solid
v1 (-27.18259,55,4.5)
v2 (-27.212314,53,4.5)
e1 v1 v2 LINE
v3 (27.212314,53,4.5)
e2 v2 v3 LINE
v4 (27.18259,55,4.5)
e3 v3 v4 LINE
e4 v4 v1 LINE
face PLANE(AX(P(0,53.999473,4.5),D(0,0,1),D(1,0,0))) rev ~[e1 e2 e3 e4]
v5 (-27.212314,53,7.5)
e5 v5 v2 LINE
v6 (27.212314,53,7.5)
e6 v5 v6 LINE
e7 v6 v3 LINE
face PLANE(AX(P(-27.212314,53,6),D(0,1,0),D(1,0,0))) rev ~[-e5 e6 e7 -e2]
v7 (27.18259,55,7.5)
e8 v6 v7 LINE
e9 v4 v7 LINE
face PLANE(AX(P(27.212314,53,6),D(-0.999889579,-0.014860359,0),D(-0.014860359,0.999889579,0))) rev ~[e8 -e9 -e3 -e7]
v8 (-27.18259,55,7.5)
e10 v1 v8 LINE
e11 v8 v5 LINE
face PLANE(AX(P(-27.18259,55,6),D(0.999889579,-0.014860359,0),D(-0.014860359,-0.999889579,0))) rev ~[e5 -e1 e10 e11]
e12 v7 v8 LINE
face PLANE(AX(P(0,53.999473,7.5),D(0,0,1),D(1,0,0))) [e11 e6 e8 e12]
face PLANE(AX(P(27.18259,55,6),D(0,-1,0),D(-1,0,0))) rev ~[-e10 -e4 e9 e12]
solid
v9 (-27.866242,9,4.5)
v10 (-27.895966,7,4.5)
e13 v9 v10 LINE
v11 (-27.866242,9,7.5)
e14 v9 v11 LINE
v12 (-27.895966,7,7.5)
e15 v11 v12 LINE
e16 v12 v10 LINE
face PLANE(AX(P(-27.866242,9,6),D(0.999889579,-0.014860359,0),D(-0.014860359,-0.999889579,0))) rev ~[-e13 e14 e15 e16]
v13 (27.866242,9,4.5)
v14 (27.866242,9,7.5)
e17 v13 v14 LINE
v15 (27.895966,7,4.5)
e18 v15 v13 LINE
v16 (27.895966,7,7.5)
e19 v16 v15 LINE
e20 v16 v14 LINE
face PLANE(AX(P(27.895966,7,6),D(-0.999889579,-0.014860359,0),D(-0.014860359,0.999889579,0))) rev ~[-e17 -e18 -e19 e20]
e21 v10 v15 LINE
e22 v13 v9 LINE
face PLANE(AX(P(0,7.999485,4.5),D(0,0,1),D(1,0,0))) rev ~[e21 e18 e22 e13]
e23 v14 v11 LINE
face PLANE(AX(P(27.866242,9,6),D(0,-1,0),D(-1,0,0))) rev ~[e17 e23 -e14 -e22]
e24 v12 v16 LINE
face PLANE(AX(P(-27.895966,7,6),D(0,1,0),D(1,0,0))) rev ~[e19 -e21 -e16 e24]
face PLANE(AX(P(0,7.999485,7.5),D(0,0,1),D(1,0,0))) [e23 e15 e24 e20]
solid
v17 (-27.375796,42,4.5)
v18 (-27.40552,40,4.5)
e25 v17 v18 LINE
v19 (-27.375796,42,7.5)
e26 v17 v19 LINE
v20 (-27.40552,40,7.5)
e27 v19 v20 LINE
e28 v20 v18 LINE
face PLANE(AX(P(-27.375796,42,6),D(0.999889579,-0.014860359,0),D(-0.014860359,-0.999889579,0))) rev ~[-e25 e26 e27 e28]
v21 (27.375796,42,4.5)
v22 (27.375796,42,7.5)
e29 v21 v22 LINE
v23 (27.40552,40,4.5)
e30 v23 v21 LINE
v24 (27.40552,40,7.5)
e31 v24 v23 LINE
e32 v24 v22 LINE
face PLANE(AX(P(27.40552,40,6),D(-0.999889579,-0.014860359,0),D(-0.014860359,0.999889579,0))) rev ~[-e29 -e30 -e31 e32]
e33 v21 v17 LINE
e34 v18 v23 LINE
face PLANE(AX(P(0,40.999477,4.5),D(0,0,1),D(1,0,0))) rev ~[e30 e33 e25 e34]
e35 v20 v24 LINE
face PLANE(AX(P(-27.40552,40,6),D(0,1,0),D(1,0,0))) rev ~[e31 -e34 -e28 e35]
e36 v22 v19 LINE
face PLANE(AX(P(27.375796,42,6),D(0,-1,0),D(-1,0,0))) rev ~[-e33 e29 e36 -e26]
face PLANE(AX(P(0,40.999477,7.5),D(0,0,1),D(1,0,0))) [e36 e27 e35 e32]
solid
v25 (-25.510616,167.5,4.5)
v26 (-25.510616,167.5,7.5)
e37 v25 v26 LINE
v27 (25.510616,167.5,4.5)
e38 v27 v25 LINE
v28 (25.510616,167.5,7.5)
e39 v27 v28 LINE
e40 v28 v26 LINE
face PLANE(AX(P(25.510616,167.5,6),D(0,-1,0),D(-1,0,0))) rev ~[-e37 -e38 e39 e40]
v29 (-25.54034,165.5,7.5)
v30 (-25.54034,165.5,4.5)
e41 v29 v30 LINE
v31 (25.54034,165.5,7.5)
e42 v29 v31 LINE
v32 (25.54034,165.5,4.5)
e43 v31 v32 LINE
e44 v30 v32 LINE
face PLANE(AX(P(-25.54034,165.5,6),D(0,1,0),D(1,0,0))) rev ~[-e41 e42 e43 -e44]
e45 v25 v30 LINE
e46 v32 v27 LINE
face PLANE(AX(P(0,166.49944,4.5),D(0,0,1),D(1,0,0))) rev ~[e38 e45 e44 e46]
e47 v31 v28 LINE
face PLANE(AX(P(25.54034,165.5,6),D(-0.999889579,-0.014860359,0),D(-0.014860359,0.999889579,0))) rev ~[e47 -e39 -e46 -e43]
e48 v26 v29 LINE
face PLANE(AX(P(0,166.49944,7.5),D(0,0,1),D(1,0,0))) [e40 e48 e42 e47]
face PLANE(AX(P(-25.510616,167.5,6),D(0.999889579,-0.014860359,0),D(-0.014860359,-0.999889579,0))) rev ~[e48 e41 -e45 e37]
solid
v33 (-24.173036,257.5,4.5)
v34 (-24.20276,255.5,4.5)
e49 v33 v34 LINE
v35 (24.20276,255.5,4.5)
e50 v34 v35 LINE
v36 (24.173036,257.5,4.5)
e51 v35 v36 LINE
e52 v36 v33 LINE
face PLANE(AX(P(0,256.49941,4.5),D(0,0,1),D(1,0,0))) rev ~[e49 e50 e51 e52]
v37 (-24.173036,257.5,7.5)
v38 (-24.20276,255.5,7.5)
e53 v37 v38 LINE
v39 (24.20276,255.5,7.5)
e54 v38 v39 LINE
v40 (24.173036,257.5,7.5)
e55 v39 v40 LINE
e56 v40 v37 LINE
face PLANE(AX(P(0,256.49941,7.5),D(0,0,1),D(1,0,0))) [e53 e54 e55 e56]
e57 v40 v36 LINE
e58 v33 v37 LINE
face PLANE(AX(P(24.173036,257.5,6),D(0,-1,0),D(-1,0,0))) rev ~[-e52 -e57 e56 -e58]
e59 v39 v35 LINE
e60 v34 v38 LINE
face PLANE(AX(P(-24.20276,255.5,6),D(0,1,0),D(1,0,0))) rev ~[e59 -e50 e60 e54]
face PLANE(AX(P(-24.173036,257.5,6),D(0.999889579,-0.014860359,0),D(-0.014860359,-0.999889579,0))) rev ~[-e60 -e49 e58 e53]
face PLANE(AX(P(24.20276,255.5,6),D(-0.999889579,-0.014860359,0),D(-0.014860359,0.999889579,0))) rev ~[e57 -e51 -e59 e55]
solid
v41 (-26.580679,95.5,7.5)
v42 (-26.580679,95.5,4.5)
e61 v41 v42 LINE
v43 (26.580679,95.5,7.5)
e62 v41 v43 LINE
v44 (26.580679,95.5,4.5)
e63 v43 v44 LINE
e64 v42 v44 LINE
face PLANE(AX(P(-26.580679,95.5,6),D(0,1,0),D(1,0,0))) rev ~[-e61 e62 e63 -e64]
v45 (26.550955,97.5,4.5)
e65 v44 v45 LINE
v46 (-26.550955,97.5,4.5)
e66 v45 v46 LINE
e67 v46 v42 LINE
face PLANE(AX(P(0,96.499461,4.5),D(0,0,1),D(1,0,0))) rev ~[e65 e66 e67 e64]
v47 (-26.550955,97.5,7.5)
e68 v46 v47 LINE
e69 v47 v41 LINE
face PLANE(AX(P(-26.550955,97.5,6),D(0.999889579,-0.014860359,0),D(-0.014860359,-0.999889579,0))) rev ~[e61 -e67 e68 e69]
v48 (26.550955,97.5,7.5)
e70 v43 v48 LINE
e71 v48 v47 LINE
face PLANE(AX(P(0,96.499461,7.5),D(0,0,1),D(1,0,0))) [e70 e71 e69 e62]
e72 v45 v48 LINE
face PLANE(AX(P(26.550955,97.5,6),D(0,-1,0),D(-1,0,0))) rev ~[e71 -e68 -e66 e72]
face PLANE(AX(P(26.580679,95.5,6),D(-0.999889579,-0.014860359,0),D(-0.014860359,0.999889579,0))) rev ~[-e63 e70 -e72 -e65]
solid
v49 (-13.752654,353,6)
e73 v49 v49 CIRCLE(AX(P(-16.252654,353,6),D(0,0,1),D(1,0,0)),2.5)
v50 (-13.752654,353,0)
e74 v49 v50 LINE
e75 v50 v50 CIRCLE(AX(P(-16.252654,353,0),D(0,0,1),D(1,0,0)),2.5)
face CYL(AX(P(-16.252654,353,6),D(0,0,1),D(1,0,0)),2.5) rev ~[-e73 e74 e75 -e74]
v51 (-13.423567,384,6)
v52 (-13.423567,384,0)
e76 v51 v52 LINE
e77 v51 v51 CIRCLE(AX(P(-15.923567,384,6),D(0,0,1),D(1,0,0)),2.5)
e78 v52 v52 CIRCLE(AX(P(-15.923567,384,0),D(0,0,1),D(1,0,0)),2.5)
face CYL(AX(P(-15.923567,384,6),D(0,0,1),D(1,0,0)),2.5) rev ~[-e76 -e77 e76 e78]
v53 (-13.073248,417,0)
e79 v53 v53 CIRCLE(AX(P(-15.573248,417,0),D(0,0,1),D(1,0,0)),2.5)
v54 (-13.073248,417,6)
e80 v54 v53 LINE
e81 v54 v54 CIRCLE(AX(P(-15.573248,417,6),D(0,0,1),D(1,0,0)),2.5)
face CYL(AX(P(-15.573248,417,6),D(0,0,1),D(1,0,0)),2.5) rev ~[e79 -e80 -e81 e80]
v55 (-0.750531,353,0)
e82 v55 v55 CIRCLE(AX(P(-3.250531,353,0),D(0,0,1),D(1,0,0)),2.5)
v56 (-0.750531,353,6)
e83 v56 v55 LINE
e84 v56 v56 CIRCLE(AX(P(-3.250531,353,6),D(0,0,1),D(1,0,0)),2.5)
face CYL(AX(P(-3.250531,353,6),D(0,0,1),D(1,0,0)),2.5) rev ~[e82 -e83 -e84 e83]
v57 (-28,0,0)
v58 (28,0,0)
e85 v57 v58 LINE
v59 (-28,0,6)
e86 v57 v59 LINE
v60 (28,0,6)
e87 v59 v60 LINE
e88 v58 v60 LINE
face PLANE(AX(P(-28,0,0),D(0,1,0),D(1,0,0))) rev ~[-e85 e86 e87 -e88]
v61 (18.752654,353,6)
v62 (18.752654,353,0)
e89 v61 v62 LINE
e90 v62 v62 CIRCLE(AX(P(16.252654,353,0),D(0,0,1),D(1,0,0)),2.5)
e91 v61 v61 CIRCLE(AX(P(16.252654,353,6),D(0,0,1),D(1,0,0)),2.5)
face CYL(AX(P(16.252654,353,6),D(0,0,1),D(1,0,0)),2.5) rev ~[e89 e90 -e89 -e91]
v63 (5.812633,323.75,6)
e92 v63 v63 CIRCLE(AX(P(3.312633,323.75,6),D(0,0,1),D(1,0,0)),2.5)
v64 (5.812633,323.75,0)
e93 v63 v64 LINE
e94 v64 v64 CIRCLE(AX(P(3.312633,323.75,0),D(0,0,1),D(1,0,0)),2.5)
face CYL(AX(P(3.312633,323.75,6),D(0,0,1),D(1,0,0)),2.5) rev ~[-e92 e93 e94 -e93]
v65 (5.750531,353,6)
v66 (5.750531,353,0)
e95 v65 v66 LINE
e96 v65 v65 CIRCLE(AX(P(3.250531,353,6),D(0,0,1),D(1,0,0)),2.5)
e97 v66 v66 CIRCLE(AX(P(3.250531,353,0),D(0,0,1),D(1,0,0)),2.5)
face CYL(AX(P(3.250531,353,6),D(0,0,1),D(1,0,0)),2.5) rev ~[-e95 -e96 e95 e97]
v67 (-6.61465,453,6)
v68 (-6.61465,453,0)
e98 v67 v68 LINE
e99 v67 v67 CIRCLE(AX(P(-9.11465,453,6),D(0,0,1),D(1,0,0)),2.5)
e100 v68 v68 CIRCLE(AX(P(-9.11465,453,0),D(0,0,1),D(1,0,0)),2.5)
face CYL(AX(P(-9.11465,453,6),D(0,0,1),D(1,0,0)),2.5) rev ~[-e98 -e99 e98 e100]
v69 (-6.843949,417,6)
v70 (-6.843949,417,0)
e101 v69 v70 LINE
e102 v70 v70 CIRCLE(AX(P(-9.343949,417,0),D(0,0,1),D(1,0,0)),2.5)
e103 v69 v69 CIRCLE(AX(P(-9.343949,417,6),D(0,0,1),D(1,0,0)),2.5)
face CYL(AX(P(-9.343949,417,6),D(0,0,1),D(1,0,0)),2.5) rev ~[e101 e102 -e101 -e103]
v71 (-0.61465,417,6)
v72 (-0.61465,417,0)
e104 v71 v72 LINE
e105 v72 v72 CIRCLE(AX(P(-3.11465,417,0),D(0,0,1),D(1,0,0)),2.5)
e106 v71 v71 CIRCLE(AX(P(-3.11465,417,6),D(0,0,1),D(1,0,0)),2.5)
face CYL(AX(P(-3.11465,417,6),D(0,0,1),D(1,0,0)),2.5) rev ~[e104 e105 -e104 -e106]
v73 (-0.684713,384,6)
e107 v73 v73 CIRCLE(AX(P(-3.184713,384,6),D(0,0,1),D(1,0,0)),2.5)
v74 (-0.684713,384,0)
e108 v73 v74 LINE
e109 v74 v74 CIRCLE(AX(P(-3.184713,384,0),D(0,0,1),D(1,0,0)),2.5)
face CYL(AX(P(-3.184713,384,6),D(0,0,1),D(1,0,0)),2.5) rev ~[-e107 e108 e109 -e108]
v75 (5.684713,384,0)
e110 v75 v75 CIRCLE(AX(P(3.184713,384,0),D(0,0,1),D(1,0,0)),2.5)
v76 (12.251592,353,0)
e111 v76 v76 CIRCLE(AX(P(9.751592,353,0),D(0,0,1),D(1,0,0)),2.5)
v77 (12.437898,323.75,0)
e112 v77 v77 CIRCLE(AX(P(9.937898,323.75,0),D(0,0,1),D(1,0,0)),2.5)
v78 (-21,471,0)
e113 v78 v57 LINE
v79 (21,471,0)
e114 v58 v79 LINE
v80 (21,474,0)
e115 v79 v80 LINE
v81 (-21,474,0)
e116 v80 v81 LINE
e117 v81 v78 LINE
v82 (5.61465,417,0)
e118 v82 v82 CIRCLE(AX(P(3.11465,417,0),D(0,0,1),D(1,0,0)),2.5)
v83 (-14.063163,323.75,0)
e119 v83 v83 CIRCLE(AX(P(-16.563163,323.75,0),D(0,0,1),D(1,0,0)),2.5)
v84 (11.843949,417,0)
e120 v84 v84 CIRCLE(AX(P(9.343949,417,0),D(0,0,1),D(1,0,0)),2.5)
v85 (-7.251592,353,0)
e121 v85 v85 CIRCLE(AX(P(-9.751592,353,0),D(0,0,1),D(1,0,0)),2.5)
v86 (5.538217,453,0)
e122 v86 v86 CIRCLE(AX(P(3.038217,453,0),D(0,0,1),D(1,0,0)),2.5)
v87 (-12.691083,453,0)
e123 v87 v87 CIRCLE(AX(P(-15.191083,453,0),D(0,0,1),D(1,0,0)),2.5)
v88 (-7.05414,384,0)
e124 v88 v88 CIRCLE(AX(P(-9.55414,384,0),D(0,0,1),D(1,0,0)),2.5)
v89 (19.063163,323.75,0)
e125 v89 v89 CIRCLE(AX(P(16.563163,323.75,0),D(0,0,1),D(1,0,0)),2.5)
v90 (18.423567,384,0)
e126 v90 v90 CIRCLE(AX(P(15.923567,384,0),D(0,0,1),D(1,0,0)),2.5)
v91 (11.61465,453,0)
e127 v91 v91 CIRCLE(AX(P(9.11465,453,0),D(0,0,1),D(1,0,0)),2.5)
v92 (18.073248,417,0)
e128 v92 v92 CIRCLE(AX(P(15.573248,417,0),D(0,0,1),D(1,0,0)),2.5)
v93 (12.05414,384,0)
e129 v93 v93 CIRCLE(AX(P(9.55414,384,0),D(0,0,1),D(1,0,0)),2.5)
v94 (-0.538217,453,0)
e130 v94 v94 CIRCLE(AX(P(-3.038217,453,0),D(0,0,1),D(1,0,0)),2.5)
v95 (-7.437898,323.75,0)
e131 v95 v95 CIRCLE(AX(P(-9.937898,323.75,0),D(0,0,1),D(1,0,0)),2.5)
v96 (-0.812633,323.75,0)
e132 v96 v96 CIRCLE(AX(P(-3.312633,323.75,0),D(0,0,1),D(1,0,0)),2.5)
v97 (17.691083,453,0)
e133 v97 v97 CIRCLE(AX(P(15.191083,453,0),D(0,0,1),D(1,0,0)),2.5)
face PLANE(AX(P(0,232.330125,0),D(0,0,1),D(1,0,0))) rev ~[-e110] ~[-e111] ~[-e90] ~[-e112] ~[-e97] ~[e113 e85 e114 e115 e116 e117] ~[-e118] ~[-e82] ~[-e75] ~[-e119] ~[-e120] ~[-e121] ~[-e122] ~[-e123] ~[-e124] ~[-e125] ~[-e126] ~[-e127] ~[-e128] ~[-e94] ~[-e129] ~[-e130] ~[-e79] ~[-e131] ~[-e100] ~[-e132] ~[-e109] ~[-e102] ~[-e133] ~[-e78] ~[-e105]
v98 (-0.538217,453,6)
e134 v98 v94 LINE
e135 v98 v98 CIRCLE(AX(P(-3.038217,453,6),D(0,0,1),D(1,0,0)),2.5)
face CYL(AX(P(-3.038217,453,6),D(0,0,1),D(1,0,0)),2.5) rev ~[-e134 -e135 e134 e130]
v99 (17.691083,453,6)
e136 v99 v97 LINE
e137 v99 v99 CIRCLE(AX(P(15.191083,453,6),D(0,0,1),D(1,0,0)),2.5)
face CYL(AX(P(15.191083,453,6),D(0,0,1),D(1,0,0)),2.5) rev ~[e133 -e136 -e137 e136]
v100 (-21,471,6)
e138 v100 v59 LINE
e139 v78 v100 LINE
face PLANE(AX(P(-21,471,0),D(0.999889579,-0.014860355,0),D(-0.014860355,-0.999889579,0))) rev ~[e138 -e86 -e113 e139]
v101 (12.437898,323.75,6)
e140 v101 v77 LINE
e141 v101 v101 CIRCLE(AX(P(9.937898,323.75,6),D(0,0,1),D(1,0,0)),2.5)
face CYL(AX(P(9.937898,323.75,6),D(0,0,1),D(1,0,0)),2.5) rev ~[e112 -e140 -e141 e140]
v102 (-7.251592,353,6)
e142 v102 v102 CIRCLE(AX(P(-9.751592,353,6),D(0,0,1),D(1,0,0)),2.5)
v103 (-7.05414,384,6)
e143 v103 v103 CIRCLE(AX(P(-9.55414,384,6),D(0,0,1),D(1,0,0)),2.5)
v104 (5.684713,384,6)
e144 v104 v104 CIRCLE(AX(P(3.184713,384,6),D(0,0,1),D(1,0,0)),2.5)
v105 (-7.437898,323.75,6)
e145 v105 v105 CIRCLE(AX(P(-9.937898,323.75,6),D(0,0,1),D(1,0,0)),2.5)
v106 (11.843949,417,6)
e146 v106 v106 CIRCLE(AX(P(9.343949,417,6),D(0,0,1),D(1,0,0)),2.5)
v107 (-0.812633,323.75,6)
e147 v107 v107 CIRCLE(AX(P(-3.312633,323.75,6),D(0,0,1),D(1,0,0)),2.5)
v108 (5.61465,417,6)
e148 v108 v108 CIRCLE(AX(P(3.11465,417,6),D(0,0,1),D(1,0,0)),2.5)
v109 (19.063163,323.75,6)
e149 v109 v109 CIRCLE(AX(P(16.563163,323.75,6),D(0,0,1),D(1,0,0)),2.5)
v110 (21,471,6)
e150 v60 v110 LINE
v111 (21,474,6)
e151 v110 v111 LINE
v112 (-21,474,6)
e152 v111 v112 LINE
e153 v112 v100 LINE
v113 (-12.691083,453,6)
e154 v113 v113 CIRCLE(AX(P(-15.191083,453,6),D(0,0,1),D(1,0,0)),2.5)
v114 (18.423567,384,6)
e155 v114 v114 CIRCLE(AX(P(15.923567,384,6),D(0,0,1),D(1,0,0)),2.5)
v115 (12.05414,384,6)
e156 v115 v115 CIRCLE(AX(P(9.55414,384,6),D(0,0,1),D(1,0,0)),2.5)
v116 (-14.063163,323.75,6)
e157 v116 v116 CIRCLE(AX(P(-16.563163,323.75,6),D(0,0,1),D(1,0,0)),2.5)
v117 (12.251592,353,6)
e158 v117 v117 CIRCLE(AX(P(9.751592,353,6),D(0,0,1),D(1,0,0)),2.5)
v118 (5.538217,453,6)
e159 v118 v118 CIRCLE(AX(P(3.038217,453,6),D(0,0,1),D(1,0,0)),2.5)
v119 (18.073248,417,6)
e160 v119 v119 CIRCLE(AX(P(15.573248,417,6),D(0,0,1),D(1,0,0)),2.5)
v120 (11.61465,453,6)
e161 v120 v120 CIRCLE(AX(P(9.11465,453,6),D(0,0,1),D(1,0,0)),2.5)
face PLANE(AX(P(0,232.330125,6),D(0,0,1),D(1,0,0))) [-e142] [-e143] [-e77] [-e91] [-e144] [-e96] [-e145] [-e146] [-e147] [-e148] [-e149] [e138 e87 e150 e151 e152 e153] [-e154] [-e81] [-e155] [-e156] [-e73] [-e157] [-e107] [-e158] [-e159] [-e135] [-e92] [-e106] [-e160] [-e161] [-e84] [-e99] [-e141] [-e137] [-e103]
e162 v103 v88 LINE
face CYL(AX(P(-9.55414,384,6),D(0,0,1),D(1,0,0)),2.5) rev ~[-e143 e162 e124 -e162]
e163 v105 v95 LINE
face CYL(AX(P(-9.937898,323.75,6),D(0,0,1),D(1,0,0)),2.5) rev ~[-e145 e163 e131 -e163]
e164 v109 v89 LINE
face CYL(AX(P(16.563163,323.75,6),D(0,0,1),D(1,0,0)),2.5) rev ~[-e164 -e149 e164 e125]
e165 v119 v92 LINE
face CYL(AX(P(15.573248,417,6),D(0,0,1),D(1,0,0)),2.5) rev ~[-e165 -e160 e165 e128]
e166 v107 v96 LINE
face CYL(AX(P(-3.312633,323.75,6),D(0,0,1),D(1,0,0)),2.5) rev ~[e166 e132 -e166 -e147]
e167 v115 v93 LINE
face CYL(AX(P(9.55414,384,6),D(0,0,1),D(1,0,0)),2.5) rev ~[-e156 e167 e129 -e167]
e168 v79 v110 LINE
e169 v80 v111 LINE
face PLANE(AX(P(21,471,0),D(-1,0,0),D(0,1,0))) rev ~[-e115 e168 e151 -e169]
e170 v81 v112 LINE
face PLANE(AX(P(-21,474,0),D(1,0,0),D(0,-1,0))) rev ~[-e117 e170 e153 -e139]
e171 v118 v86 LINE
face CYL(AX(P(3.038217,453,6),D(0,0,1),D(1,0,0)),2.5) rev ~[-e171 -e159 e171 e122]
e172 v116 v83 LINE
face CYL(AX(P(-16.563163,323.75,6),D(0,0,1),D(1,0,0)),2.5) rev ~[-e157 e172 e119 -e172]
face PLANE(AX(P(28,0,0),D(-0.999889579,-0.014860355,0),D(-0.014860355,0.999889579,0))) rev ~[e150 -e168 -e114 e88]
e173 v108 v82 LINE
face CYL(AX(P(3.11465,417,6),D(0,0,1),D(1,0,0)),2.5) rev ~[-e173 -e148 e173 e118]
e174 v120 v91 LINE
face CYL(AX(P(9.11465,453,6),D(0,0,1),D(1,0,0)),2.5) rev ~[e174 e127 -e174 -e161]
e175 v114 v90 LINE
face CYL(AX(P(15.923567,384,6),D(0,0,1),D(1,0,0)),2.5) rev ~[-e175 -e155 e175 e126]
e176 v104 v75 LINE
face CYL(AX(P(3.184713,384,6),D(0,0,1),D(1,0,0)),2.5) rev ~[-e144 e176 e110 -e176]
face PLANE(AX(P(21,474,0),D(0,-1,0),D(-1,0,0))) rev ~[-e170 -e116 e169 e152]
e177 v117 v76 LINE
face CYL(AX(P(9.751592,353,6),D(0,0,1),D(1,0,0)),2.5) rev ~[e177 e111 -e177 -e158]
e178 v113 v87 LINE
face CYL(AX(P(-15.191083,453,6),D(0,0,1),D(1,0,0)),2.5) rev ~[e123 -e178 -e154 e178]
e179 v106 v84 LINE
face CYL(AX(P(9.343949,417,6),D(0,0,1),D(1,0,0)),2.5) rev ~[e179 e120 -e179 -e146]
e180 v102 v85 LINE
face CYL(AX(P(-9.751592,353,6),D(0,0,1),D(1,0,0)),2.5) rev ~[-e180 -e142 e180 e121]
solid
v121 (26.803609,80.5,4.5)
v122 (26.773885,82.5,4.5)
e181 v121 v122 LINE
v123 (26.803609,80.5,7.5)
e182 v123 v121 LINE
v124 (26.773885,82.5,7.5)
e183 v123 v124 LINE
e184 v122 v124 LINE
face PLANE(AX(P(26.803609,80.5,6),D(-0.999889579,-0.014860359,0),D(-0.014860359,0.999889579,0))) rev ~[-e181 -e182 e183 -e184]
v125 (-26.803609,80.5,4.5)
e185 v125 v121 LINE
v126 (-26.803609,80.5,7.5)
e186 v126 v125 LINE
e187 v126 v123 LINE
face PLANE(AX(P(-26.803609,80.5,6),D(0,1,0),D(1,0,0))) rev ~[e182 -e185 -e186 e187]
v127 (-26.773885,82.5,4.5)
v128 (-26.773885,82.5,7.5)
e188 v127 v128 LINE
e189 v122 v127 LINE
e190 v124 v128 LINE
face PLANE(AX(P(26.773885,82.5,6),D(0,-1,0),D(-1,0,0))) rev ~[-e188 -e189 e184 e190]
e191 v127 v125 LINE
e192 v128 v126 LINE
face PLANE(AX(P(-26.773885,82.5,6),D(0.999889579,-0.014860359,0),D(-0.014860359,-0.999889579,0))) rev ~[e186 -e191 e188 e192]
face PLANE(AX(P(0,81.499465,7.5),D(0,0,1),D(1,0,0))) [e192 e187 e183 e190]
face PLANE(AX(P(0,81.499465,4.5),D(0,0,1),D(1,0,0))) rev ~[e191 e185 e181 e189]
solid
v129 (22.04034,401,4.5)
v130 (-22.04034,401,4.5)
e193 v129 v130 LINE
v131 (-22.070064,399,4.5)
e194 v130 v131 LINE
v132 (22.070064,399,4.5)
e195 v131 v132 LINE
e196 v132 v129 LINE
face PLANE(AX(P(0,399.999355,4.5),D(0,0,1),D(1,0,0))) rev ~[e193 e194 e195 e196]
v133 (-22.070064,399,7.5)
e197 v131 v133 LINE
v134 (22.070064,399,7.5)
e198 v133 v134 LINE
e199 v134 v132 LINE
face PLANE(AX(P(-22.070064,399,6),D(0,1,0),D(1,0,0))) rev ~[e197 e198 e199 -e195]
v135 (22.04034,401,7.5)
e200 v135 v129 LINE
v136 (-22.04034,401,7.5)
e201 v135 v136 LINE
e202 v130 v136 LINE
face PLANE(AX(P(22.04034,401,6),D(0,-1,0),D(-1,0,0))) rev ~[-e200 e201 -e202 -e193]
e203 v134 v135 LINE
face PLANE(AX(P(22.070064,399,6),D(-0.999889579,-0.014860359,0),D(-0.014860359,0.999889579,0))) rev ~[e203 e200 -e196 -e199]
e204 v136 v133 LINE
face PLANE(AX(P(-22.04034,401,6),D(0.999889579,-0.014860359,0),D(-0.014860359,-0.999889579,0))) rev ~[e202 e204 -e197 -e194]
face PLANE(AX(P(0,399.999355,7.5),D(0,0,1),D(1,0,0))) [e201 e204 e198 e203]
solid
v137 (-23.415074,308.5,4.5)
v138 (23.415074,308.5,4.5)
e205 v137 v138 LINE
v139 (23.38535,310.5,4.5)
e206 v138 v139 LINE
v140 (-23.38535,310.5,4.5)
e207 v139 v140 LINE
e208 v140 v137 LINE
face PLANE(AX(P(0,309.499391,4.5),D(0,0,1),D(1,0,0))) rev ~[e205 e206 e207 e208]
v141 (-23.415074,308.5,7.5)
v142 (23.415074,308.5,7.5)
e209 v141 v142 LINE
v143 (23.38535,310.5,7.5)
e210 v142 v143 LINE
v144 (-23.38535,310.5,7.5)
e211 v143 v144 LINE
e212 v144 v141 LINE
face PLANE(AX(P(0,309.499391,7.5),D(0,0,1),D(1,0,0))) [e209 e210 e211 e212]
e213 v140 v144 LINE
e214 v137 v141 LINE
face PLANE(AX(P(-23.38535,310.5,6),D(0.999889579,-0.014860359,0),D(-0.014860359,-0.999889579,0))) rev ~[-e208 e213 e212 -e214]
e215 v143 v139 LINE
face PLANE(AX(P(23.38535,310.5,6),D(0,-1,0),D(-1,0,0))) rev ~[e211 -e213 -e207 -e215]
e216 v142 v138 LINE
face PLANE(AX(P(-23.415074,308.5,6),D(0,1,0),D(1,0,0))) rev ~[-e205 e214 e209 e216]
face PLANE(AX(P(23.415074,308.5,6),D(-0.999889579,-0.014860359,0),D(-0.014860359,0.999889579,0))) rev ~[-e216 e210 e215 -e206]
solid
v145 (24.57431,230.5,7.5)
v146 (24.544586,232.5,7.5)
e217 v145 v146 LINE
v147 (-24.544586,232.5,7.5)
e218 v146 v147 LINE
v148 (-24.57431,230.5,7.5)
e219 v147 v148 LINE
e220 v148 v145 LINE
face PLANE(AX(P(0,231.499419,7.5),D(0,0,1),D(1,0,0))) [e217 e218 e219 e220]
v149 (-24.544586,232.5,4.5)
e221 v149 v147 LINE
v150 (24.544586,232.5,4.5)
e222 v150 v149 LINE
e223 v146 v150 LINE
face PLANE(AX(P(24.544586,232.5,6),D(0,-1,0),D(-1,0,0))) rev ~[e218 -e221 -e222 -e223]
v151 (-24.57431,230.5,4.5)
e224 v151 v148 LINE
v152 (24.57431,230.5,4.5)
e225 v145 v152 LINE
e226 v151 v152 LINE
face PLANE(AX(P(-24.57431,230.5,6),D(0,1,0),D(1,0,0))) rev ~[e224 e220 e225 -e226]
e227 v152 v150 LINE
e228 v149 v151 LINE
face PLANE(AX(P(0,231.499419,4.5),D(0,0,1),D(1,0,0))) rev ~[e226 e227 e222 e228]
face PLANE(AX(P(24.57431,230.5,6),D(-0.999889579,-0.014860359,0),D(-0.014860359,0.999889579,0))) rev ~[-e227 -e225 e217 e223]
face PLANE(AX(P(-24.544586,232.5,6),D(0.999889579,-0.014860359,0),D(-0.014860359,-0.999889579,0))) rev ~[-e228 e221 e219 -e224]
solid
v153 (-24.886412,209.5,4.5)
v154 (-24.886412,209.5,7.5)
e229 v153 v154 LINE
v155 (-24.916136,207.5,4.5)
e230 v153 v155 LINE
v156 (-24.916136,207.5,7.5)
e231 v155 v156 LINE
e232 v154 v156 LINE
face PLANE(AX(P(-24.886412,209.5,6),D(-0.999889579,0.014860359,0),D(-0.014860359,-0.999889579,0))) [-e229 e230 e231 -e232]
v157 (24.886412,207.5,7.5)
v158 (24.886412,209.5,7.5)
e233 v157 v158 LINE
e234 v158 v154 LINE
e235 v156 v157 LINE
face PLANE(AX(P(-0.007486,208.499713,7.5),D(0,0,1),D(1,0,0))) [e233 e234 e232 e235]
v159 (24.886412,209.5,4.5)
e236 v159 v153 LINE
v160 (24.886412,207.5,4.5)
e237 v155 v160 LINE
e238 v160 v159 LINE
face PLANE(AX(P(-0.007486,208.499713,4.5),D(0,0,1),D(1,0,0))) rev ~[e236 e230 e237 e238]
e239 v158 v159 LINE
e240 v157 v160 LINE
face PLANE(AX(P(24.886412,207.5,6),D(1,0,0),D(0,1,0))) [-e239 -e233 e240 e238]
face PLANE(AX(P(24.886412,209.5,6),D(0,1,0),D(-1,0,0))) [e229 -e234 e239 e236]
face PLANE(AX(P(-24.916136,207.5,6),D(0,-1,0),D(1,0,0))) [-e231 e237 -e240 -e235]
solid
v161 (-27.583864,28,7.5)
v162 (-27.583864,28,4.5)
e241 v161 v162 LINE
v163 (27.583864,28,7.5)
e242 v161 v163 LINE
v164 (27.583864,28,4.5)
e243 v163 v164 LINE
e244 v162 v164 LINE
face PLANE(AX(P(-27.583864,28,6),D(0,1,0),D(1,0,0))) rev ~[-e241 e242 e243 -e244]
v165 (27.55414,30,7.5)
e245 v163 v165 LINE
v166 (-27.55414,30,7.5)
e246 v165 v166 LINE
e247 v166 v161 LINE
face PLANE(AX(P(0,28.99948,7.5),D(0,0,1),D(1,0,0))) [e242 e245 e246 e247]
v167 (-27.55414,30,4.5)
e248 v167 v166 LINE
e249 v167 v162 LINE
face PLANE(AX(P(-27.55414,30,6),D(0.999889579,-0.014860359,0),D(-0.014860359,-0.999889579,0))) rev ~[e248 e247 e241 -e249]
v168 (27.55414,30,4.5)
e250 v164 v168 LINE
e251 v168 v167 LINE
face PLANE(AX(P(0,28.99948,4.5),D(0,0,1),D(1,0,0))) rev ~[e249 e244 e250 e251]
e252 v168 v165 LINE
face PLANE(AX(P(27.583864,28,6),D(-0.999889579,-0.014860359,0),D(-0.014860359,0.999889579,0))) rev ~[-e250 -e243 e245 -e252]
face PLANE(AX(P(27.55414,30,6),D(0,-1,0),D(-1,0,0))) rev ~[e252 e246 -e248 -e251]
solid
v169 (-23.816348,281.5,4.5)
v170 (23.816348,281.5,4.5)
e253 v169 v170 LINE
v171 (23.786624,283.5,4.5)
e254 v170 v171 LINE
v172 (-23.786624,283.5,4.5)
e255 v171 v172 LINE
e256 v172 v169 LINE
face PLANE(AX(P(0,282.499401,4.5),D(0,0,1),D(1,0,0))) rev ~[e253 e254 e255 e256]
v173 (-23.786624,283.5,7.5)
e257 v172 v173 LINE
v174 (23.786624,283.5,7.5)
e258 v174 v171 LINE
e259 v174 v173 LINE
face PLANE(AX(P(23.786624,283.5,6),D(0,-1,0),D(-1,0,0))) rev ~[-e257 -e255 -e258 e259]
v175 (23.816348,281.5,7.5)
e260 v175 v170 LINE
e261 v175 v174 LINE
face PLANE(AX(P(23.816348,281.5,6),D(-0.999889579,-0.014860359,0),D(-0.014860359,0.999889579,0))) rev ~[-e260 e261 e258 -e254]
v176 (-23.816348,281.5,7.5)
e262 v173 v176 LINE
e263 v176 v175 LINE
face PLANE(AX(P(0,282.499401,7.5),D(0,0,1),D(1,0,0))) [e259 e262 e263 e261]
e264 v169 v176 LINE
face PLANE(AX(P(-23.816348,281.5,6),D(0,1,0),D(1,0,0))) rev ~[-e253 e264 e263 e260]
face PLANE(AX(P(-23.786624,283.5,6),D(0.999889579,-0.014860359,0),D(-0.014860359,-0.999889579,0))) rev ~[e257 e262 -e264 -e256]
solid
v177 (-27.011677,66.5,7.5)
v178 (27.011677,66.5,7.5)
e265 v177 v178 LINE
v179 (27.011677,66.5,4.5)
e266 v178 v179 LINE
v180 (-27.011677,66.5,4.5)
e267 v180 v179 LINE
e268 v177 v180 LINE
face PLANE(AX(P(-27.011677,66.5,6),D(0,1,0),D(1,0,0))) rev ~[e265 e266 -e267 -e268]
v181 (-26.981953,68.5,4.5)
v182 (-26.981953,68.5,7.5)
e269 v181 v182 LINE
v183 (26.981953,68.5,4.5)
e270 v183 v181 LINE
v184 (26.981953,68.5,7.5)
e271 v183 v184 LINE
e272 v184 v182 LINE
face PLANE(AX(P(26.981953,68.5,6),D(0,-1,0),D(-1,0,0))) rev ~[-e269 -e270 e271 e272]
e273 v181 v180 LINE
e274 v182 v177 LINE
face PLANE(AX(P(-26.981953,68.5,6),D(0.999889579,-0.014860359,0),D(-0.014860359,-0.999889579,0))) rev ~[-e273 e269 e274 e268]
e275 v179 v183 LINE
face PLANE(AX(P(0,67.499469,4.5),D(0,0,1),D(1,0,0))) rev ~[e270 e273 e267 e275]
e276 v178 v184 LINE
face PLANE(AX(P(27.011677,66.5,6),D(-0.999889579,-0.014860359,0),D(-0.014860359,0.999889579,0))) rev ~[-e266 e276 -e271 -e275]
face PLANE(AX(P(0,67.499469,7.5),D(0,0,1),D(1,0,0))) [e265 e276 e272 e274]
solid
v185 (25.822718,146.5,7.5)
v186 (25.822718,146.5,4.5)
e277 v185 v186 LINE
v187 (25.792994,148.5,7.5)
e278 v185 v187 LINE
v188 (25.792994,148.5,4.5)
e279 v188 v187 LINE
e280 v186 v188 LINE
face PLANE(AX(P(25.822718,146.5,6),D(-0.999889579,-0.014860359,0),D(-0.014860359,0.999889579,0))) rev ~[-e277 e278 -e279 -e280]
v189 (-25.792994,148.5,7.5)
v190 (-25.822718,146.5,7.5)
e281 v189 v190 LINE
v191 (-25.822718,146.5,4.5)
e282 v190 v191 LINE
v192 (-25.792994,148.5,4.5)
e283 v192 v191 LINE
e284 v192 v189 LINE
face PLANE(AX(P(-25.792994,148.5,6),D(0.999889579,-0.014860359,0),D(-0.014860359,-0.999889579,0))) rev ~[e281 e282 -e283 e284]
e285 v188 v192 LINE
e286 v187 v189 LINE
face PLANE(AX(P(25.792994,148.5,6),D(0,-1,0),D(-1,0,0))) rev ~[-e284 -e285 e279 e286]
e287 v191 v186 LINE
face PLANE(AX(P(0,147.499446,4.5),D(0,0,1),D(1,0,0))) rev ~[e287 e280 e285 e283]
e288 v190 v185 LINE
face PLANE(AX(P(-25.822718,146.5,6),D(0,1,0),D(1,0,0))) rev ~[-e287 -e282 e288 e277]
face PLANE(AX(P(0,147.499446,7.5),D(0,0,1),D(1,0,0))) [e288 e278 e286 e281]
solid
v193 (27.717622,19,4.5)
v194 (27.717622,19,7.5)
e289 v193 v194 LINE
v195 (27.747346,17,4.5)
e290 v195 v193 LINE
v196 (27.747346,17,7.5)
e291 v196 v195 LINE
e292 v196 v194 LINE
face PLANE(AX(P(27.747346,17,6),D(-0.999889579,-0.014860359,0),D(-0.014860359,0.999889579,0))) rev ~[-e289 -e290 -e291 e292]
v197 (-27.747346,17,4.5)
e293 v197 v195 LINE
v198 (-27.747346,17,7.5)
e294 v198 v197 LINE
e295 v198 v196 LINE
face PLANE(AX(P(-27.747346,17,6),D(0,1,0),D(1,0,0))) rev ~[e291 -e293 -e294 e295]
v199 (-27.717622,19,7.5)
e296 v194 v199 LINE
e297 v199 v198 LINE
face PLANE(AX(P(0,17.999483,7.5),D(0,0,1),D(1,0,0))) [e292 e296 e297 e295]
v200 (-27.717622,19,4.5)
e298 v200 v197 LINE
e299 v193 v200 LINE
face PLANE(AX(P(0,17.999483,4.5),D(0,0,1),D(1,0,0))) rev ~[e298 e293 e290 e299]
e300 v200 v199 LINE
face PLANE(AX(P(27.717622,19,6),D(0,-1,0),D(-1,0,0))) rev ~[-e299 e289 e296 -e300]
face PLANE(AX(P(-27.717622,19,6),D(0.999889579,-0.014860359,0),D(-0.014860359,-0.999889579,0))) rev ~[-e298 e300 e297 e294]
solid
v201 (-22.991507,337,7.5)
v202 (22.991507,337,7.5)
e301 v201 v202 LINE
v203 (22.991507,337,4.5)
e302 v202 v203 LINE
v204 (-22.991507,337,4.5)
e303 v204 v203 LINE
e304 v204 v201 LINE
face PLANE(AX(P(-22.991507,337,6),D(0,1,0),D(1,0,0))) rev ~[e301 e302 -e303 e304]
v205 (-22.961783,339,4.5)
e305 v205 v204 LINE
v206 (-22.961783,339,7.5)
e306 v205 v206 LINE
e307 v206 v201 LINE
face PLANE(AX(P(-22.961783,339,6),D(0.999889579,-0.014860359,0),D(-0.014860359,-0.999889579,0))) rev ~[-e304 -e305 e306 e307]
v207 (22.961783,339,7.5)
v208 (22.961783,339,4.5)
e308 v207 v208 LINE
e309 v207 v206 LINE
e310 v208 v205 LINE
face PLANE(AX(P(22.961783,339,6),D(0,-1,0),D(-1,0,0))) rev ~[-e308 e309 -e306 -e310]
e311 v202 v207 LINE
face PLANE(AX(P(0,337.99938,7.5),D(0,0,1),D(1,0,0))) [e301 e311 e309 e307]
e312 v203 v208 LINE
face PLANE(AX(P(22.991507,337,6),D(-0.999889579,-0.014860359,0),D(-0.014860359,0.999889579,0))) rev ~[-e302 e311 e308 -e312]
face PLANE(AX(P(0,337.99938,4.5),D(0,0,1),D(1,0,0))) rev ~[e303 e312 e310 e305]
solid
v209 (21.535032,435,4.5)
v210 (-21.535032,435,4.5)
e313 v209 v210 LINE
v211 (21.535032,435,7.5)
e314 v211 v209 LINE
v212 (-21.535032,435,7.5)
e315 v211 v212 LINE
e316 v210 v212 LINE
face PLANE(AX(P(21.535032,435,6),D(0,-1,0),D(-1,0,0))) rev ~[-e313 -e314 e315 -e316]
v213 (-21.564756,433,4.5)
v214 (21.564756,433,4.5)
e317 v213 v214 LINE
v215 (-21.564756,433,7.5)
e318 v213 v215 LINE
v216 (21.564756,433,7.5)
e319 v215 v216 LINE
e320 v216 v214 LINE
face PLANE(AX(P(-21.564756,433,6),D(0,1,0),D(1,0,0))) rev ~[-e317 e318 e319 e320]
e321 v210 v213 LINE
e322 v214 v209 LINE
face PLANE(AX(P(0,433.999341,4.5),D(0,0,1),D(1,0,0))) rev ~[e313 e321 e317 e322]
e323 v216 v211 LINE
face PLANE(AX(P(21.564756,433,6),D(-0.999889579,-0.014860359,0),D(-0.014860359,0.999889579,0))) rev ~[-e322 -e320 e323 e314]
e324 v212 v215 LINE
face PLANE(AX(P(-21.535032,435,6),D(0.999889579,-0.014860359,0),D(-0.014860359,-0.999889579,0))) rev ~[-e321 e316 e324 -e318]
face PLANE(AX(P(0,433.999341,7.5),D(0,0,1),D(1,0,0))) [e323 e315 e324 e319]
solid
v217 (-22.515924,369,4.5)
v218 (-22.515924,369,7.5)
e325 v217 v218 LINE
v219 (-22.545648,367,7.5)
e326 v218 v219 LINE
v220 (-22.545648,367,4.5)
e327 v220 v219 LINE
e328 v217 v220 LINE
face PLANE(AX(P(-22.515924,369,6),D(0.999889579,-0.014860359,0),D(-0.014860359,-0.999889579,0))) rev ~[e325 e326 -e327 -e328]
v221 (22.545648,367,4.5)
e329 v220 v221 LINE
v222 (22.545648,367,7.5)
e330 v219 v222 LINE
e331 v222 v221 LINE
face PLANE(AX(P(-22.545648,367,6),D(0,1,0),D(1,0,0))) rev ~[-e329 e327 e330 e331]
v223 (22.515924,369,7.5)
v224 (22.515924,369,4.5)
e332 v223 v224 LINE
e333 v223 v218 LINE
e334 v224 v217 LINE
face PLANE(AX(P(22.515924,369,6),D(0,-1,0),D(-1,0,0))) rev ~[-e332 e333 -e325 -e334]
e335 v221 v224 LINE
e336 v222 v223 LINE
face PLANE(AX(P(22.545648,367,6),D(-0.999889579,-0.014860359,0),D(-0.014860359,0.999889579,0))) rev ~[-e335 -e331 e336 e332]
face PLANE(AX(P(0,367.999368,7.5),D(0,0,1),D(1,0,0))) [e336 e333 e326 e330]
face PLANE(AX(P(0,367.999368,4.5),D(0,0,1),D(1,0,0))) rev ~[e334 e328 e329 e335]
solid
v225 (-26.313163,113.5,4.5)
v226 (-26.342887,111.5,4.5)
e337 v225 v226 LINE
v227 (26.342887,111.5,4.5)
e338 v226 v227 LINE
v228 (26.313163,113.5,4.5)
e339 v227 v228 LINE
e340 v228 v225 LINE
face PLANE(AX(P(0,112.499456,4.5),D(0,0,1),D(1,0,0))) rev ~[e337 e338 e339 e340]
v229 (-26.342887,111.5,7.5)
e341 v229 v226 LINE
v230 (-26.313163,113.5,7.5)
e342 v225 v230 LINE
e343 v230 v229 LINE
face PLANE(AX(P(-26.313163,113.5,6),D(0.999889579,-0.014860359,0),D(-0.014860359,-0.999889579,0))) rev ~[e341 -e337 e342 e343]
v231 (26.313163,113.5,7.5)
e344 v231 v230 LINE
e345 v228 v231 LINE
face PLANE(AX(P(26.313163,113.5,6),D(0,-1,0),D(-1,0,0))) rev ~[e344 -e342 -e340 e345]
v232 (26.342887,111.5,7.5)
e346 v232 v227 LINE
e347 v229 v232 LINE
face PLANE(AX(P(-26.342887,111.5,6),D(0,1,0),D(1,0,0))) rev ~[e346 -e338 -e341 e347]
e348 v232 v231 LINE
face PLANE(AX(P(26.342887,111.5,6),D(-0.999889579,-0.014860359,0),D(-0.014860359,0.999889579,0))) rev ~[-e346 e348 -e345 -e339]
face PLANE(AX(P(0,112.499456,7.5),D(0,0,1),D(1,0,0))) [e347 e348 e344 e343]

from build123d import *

# Parameters (mm, degrees)
F1_DEPTH = 6
F2_R     = 2.5
F3_DEPTH = 25
F4_DEPTH = 1.5


with BuildPart() as f1:
    # F0 (on Top) → F1 (new body)
    with BuildSketch(Plane.XY):
        Polygon((21, 471), (0, 471), (-21, 471), (-28, 0), (0, 0), (28, 0), align=None)
        Polygon((-21, 471), (0, 471), (21, 471), (21, 474), (-21, 474), align=None)
    extrude(amount=F1_DEPTH)

    # F2 (on face) → F3 (cut)
    with BuildSketch(Plane.XY.offset(6)):
        with Locations((15.191083, 453)):
            Circle(F2_R)
        with Locations((9.11465, 453)):
            Circle(F2_R)
        with Locations((3.038217, 453)):
            Circle(F2_R)
        with Locations((-3.038217, 453)):
            Circle(F2_R)
        with Locations((-9.11465, 453)):
            Circle(F2_R)
        with Locations((-15.191083, 453)):
            Circle(F2_R)
        with Locations((15.573248, 417)):
            Circle(F2_R)
        with Locations((9.343949, 417)):
            Circle(F2_R)
        with Locations((3.11465, 417)):
            Circle(F2_R)
        with Locations((-3.11465, 417)):
            Circle(F2_R)
        with Locations((-9.343949, 417)):
            Circle(F2_R)
        with Locations((-15.573248, 417)):
            Circle(F2_R)
        with Locations((15.923567, 384)):
            Circle(F2_R)
        with Locations((9.55414, 384)):
            Circle(F2_R)
        with Locations((3.184713, 384)):
            Circle(F2_R)
        with Locations((-3.184713, 384)):
            Circle(F2_R)
        with Locations((-9.55414, 384)):
            Circle(F2_R)
        with Locations((-15.923567, 384)):
            Circle(F2_R)
        with Locations((16.252654, 353)):
            Circle(F2_R)
        with Locations((9.751592, 353)):
            Circle(F2_R)
        with Locations((3.250531, 353)):
            Circle(F2_R)
        with Locations((-3.250531, 353)):
            Circle(F2_R)
        with Locations((-9.751592, 353)):
            Circle(F2_R)
        with Locations((-16.252654, 353)):
            Circle(F2_R)
        with Locations((16.563163, 323.75)):
            Circle(F2_R)
        with Locations((9.937898, 323.75)):
            Circle(F2_R)
        with Locations((3.312633, 323.75)):
            Circle(F2_R)
        with Locations((-3.312633, 323.75)):
            Circle(F2_R)
        with Locations((-9.937898, 323.75)):
            Circle(F2_R)
        with Locations((-16.563163, 323.75)):
            Circle(F2_R)
    extrude(amount=-F3_DEPTH, mode=Mode.SUBTRACT)


with BuildPart() as f4:
    # F2 (on face) → F4 (new body, symmetric)
    with BuildSketch(Plane.XY.offset(6)):
        Polygon((21.535032, 435), (-21.535032, 435), (-21.564756, 433), (21.564756, 433), align=None)
        Polygon((22.04034, 401), (-22.04034, 401), (-22.070064, 399), (22.070064, 399), align=None)
        Polygon((22.515924, 369), (-22.515924, 369), (-22.545648, 367), (22.545648, 367), align=None)
        Polygon((22.961783, 339), (-22.961783, 339), (-22.991507, 337), (22.991507, 337), align=None)
        Polygon((23.38535, 310.5), (-23.38535, 310.5), (-23.415074, 308.5), (23.415074, 308.5), align=None)
        Polygon((27.011677, 66.5), (26.981953, 68.5), (-26.981953, 68.5), (-27.011677, 66.5), align=None)
        Polygon((27.212314, 53), (27.18259, 55), (-27.18259, 55), (-27.212314, 53), align=None)
        Polygon((27.40552, 40), (27.375796, 42), (-27.375796, 42), (-27.40552, 40), align=None)
        Polygon((27.583864, 28), (27.55414, 30), (-27.55414, 30), (-27.583864, 28), align=None)
        Polygon((27.747346, 17), (27.717622, 19), (-27.717622, 19), (-27.747346, 17), align=None)
        Polygon((27.895966, 7), (27.866242, 9), (-27.866242, 9), (-27.895966, 7), align=None)
        Polygon((26.580679, 95.5), (26.550955, 97.5), (-26.550955, 97.5), (-26.580679, 95.5), align=None)
        Polygon((26.342887, 111.5), (26.313163, 113.5), (-26.313163, 113.5), (-26.342887, 111.5), align=None)
        Polygon((26.803609, 80.5), (26.773885, 82.5), (-26.773885, 82.5), (-26.803609, 80.5), align=None)
        Polygon((25.822718, 146.5), (25.792994, 148.5), (-25.792994, 148.5), (-25.822718, 146.5), align=None)
        Polygon((25.54034, 165.5), (25.510616, 167.5), (-25.510616, 167.5), (-25.54034, 165.5), align=None)
        Polygon((24.173036, 257.5), (-24.173036, 257.5), (-24.20276, 255.5), (24.20276, 255.5), align=None)
        Polygon((24.544586, 232.5), (-24.544586, 232.5), (-24.57431, 230.5), (24.57431, 230.5), align=None)
        Polygon((23.786624, 283.5), (-23.786624, 283.5), (-23.816348, 281.5), (23.816348, 281.5), align=None)
        Polygon((24.886412, 209.5), (-24.886412, 209.5), (-24.916136, 207.5), (24.886412, 207.5), align=None)
    extrude(amount=F4_DEPTH, both=True)


solid = Compound([f1.part, f4.part])
